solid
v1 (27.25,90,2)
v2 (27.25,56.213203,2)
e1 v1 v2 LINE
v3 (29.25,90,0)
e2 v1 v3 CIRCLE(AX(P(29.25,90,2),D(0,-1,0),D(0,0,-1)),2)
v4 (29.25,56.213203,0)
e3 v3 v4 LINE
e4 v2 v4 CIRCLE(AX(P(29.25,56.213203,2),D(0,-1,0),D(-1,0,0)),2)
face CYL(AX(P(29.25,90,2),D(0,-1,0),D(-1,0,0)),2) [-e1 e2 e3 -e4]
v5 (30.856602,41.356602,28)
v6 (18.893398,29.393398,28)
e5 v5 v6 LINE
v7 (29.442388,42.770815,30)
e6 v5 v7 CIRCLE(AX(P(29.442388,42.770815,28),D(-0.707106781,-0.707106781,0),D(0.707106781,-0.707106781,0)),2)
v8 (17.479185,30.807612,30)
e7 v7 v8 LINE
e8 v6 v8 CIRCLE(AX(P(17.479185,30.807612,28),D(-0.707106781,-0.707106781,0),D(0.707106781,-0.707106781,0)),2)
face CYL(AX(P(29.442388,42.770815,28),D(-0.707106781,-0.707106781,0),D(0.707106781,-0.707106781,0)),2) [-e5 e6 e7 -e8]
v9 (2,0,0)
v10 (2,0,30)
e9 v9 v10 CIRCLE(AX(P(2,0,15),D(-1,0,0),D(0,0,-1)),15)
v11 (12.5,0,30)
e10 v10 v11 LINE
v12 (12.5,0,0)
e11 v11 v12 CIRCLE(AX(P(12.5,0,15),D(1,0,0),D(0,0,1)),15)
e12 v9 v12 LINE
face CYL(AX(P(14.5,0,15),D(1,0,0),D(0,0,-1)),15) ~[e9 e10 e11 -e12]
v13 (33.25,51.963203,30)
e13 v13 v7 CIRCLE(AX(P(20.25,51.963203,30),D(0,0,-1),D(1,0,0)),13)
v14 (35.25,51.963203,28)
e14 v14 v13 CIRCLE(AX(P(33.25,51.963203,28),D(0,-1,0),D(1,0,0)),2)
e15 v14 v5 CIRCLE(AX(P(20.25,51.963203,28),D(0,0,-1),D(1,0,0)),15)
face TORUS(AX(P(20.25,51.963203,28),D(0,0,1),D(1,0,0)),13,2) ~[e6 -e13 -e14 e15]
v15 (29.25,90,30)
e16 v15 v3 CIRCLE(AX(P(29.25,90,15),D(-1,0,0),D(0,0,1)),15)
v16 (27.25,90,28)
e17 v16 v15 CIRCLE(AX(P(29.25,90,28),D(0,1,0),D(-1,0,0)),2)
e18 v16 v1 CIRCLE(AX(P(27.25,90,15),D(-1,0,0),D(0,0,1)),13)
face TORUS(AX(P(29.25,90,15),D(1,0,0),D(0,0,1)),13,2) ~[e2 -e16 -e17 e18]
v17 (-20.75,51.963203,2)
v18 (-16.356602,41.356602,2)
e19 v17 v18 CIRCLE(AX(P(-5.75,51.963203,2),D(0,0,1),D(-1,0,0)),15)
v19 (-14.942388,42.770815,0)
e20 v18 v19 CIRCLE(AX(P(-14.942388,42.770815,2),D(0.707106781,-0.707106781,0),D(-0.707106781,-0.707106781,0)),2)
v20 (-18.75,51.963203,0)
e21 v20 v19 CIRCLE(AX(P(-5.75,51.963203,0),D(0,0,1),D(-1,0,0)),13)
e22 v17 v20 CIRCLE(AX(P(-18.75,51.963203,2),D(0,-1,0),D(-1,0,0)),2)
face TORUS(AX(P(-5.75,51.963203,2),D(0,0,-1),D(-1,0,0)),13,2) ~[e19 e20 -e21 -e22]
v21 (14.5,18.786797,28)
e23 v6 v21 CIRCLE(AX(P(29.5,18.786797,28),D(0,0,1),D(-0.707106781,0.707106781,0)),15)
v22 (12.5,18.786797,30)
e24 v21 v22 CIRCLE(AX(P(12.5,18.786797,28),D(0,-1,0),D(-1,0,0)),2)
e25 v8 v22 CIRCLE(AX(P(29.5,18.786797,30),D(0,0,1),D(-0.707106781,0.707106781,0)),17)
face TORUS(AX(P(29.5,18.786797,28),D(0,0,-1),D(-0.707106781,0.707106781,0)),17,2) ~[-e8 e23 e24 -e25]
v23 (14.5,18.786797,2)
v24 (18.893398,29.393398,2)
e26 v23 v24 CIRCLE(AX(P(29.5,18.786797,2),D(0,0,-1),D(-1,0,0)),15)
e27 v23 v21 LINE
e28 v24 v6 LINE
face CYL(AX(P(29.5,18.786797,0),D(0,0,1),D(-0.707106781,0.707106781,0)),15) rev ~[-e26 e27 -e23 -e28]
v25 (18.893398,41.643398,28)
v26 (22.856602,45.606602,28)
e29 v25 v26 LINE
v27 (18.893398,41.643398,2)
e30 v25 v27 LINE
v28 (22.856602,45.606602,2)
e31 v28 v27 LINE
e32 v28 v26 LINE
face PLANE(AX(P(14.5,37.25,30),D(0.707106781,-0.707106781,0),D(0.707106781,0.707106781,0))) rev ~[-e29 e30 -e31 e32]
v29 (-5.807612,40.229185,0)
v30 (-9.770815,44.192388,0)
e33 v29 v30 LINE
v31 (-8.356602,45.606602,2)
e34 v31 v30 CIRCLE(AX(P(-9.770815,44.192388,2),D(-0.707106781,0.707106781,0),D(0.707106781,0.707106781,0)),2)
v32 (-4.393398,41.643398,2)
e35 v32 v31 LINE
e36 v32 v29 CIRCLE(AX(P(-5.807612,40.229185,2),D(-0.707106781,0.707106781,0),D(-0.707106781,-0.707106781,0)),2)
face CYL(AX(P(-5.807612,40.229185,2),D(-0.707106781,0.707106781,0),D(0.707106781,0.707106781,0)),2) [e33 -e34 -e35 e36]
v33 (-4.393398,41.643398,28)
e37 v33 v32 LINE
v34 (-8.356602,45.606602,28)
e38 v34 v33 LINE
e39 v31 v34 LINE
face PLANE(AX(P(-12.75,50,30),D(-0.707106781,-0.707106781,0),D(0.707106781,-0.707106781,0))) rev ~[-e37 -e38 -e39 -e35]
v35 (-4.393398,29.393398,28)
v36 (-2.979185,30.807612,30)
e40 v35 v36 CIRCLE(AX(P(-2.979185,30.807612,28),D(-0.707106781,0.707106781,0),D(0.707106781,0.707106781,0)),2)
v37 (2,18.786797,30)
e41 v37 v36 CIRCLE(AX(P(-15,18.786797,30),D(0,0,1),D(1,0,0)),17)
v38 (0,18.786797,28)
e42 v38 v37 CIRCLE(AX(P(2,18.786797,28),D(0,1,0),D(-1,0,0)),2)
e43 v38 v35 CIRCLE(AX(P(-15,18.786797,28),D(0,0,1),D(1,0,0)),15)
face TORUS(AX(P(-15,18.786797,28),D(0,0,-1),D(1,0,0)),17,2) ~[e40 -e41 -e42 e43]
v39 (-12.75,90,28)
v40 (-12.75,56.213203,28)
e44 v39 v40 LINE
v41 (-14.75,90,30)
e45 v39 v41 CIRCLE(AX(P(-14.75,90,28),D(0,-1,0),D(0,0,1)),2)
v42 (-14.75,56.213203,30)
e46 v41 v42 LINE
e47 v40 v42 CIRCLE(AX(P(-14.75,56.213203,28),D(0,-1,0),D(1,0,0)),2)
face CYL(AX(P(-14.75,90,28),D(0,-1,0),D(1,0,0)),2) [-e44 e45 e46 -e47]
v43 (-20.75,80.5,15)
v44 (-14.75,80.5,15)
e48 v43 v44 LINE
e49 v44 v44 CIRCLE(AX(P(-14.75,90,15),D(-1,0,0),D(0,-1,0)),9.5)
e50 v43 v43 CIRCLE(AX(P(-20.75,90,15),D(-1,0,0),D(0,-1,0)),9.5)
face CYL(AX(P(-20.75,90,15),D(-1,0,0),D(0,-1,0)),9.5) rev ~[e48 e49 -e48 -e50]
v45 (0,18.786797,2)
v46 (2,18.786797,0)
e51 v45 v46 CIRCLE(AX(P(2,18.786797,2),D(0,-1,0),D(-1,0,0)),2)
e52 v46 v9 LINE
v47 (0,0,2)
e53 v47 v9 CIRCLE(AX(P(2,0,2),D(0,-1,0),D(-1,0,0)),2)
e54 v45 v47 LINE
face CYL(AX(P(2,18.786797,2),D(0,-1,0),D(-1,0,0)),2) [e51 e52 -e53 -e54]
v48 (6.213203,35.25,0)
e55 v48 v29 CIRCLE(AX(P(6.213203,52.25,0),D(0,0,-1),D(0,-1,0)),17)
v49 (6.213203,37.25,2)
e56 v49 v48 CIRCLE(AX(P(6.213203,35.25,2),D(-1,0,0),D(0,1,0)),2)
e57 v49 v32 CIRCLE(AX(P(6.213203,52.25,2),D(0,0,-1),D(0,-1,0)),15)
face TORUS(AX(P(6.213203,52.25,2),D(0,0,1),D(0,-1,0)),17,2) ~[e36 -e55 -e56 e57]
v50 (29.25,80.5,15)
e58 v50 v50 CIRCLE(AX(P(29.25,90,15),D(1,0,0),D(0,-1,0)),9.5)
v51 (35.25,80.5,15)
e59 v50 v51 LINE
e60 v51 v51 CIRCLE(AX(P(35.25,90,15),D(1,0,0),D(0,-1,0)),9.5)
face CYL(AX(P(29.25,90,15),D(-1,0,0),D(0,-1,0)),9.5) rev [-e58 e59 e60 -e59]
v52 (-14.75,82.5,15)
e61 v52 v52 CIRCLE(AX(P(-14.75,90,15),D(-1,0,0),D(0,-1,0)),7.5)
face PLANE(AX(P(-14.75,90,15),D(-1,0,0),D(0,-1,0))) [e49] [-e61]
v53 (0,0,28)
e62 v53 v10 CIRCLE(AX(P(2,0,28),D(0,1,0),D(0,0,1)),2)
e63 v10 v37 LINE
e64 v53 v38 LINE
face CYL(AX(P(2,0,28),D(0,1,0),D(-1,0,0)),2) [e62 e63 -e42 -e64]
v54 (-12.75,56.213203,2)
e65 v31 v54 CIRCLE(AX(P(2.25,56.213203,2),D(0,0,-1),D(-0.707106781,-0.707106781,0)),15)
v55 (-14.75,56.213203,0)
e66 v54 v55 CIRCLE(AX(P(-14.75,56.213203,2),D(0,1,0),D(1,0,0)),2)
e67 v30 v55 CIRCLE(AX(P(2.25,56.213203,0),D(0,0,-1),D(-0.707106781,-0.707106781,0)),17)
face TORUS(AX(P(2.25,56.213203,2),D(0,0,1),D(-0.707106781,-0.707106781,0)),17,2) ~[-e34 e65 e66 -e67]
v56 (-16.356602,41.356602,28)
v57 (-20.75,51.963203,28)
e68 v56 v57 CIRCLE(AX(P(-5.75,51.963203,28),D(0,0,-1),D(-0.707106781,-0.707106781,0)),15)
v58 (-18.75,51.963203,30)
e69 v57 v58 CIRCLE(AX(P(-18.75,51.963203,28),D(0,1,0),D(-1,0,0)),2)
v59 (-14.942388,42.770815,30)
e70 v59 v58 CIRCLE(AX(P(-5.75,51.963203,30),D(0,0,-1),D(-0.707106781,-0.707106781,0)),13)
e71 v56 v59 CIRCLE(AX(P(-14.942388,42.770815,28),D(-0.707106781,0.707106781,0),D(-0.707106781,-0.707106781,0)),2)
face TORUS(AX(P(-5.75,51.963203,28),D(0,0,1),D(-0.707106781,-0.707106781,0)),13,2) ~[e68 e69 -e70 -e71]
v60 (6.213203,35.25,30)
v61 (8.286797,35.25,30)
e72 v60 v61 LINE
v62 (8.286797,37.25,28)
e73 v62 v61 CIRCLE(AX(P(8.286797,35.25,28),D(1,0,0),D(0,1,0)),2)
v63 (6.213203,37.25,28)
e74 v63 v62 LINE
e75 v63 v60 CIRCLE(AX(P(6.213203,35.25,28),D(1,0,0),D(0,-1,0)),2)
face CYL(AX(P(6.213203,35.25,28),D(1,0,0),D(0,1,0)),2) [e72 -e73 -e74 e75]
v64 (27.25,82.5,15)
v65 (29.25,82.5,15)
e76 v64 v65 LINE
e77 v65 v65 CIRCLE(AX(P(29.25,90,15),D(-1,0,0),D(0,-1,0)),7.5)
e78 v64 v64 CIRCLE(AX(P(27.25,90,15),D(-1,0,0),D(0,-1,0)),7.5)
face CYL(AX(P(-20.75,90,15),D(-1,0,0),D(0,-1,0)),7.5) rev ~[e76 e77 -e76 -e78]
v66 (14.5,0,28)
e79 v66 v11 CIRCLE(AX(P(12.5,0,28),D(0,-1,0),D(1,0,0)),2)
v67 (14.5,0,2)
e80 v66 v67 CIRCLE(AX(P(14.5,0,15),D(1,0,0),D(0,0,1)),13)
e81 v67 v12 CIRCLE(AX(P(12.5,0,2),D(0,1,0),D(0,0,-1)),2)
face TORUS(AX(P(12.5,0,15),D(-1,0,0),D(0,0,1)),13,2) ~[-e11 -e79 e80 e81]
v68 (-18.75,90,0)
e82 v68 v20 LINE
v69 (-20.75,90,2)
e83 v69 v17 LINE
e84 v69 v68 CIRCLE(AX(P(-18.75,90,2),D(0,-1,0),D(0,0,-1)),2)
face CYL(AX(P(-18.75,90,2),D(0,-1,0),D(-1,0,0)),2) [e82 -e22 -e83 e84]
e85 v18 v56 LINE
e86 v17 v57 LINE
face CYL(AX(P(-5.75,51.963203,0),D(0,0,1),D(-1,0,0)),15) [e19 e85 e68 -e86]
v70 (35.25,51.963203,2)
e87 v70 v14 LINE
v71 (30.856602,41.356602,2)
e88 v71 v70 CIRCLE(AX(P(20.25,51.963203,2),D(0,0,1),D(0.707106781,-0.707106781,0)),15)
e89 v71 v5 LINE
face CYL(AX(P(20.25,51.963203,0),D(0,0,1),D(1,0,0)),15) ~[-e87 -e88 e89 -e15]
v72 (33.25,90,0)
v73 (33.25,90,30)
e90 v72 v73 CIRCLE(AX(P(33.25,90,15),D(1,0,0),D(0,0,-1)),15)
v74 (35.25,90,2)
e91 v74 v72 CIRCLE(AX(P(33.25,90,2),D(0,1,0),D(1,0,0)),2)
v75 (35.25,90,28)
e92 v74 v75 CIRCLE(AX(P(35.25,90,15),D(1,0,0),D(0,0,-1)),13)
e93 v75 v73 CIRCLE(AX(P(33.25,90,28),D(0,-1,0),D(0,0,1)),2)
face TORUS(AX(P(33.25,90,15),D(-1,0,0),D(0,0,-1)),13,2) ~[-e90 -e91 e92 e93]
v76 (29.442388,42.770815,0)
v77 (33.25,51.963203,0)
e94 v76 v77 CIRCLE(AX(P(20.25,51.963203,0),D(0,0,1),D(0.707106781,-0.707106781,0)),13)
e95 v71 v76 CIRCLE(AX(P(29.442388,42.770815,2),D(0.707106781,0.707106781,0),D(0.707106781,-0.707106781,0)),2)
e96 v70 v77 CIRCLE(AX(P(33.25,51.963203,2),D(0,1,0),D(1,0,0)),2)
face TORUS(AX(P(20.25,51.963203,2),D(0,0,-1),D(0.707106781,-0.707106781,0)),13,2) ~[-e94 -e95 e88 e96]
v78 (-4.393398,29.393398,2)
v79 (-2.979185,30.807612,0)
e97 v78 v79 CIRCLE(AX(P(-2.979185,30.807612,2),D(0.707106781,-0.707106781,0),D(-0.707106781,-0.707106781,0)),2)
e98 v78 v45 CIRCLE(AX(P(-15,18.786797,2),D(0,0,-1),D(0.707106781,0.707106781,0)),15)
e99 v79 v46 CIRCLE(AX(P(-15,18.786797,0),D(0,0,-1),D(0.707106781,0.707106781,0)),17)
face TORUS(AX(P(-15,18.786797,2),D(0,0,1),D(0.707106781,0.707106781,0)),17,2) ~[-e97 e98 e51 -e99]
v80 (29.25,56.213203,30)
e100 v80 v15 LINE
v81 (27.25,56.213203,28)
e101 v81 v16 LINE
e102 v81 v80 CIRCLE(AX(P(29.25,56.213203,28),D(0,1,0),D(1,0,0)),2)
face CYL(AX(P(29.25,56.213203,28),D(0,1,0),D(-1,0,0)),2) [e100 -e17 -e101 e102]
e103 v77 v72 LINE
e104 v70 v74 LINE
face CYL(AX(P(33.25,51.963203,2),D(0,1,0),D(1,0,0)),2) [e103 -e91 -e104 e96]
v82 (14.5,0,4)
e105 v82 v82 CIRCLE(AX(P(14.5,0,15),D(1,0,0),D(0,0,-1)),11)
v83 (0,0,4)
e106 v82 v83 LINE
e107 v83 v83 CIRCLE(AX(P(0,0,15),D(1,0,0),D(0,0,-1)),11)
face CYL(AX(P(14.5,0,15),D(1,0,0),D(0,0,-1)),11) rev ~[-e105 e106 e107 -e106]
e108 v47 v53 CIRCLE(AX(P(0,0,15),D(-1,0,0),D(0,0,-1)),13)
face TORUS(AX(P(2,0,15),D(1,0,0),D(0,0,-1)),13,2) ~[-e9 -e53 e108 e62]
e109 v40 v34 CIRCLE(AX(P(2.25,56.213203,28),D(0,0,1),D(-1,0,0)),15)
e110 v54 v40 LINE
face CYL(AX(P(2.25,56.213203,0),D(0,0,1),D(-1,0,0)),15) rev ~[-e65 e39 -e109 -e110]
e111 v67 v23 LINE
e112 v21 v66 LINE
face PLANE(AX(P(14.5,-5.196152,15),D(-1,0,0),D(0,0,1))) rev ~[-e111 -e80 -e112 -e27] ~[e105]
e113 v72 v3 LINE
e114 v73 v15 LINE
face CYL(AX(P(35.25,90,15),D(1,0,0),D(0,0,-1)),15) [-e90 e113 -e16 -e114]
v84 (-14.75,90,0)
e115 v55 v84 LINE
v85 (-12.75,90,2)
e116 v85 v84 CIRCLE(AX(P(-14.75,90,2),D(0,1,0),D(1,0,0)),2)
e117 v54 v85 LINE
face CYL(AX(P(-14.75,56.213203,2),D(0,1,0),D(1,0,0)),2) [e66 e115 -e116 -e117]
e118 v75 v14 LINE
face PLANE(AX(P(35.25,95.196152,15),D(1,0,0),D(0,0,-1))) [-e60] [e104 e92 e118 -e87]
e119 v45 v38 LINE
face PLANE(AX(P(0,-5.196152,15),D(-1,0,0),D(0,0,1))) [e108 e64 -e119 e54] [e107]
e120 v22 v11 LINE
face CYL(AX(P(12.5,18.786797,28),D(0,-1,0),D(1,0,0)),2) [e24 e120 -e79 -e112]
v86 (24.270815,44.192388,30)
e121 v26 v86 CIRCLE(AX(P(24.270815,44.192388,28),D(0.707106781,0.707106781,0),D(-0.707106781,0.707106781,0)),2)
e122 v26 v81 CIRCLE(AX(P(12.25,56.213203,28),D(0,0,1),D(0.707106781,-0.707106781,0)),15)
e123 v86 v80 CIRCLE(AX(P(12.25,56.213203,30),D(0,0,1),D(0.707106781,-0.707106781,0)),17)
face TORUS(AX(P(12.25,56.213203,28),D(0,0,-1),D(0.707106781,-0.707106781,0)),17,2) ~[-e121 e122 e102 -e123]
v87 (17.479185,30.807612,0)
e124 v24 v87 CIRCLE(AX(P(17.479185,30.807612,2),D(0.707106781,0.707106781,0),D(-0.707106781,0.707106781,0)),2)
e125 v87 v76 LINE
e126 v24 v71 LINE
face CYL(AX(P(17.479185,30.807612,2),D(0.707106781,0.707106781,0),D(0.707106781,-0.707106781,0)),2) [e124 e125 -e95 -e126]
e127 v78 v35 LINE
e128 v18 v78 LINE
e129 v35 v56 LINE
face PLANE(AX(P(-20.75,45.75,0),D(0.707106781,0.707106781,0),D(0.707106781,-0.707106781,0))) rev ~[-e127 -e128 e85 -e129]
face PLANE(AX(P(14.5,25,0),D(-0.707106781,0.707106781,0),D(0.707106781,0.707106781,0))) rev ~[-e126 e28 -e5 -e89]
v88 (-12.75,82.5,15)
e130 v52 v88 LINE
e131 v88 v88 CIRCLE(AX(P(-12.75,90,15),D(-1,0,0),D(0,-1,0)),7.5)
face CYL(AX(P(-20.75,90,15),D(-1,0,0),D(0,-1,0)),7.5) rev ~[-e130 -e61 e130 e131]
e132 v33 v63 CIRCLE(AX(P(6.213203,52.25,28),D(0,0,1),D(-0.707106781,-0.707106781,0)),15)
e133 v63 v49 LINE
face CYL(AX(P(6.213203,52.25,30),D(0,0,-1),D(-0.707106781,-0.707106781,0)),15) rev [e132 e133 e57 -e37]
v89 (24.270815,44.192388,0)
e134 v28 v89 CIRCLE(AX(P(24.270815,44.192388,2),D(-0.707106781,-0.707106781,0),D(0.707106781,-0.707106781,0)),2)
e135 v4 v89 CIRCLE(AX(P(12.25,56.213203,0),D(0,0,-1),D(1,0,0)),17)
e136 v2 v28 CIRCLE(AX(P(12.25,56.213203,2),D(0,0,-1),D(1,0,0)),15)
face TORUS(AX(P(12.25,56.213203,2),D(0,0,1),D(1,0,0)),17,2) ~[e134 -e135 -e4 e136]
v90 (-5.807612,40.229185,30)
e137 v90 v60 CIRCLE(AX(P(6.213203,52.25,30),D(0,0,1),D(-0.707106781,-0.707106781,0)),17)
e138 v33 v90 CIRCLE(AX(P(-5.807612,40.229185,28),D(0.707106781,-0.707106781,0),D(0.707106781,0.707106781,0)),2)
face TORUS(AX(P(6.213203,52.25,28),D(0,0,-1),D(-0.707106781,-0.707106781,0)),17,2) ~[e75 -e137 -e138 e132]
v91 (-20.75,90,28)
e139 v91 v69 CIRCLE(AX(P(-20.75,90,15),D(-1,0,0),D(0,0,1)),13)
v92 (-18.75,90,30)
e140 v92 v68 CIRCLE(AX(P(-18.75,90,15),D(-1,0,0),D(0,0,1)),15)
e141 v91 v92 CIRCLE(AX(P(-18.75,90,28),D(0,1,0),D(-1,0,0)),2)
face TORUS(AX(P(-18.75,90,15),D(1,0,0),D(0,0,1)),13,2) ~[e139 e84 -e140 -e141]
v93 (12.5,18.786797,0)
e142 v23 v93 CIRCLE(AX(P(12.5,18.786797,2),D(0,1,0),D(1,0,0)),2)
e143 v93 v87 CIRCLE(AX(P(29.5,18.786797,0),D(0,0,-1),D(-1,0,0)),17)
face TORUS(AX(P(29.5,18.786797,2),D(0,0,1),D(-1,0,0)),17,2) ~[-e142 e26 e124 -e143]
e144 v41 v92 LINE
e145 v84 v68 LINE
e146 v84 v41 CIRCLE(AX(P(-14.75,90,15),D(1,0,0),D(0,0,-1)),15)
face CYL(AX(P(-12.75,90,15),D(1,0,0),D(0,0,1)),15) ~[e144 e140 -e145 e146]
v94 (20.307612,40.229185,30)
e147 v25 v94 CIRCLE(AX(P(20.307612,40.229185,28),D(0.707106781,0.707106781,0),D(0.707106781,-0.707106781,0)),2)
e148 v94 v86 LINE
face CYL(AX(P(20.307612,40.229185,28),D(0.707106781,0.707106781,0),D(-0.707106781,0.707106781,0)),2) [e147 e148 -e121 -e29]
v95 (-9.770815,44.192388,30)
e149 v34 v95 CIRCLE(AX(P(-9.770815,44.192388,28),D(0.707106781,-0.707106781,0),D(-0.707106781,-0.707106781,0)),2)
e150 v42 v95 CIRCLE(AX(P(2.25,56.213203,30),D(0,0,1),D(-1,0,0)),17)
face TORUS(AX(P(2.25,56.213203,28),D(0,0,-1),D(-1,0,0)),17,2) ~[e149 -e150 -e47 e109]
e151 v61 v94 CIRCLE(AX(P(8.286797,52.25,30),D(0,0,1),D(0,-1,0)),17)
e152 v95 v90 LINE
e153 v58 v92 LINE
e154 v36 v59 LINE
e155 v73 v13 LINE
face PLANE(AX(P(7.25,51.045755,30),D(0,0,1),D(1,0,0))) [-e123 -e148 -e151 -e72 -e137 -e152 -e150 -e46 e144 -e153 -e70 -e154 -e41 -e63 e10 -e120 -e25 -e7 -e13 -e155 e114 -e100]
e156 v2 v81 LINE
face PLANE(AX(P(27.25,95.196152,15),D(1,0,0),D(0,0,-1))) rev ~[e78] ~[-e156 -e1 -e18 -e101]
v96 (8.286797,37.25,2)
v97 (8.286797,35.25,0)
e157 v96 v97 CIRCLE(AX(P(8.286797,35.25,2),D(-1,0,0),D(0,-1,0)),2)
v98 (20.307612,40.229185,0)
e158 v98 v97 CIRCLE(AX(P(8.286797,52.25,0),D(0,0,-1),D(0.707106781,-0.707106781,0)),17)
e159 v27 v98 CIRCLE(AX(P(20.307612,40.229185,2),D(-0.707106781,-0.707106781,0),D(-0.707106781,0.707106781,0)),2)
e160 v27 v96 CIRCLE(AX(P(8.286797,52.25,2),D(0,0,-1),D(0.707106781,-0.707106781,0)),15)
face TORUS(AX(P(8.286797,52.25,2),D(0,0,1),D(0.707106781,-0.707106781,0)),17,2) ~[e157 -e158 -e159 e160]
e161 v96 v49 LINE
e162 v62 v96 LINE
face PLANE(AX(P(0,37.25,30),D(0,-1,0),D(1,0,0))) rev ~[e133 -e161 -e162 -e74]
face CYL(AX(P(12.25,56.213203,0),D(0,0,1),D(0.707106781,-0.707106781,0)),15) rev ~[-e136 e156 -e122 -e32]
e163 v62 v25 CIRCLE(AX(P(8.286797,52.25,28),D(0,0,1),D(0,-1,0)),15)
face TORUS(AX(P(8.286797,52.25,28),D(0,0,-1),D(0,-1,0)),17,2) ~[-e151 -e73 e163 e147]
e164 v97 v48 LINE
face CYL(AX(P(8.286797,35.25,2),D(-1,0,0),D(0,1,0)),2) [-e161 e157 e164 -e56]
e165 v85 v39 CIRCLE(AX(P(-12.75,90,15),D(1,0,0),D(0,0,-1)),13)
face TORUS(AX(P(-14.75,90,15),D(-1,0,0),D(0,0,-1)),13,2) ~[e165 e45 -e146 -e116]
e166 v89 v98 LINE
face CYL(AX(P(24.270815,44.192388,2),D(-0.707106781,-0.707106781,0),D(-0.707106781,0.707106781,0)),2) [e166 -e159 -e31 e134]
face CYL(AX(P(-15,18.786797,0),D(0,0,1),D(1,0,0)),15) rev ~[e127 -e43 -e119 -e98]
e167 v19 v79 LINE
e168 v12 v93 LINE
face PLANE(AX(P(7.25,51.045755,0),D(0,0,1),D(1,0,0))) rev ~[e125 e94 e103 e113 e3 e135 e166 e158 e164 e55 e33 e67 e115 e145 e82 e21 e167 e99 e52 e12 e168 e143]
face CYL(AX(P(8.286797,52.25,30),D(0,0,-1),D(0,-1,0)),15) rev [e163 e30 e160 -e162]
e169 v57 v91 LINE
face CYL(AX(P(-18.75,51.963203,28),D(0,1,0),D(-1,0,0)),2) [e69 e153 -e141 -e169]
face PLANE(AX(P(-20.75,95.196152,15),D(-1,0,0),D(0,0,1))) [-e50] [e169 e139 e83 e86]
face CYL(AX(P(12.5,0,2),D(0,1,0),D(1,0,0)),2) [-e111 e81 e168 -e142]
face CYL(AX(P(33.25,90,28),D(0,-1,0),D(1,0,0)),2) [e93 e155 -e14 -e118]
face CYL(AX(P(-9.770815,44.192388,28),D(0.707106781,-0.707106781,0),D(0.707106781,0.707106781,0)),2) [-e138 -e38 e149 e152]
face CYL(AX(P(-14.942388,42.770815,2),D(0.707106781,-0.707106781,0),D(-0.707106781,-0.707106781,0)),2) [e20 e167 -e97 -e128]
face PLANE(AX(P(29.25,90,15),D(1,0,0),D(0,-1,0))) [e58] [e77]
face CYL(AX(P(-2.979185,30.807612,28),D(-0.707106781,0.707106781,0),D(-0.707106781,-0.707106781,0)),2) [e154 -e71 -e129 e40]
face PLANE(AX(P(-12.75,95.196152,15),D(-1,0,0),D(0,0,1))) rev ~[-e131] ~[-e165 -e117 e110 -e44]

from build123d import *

# Parameters (mm, degrees)
EXTRUDE_1_DEPTH     = 30
CUT_EXTRUDE_1_DEPTH = 102.205545797
EXTRUDE_2_DEPTH     = 14.5
SKETCH_4_R          = 11
CUT_EXTRUDE_2_DEPTH = 20
EXTRUDE_3_DEPTH     = 8
EXTRUDE_START       = -8
EXTRUDE_4_DEPTH     = 8
SKETCH_9_R          = 7.5
CUT_EXTRUDE_5_DEPTH = 62
SKETCH_10_R         = 9.5
CUT_EXTRUDE_6_DEPTH = 6
CUT_EXTRUDE_START   = -6
SKETCH_11_R         = 9.5
CUT_EXTRUDE_7_DEPTH = 6
FILLET_1_R          = 15
FILLET_2_R          = 2


with BuildPart() as part:
    # 草图1 → 凸台-拉伸1 (new body)
    with BuildSketch(Plane.XY):
        Polygon((0, 0), (14.5, 0), (14.5, 25), (35.25, 45.75), (35.25, 90), (27.25, 90), (27.25, 50), (-12.75, 50), (-12.75, 90), (-20.75, 90), (-20.75, 45.75), (0, 25), align=None)
    extrude(amount=EXTRUDE_1_DEPTH)

    # 草图2 → 切除-拉伸1 (cut, through all)
    with BuildSketch(Plane.XY.offset(30)):
        Polygon((-12.75, 50), (0, 37.25), (14.5, 37.25), (27.25, 50), align=None)
    extrude(amount=-CUT_EXTRUDE_1_DEPTH, mode=Mode.SUBTRACT)

    # 草图3 → 凸台-拉伸2 (add)
    with BuildSketch(Plane(origin=(14.5, 0, 0), x_dir=(0, 0, -1), z_dir=(1, 0, 0))):
        with BuildLine():
            Line((-30, 0), (0, 0))
            ThreePointArc((0, 0), (-15, -15), (-30, 0))
        make_face()
    extrude(amount=-EXTRUDE_2_DEPTH)

    # 草图4 → 切除-拉伸2 (cut)
    with BuildSketch(Plane(origin=(14.5, 0, 0), x_dir=(0, 0, -1), z_dir=(1, 0, 0))):
        with Locations((-15, 0)):
            Circle(SKETCH_4_R)
    extrude(amount=-CUT_EXTRUDE_2_DEPTH, mode=Mode.SUBTRACT)

    # 草图7 → 凸台-拉伸3 (add)
    with BuildSketch(Plane(origin=(35.25, 0, 0), x_dir=(0, 0, -1), z_dir=(1, 0, 0))):
        with BuildLine():
            Line((-30, 90), (0, 90))
            ThreePointArc((0, 90), (-15, 105), (-30, 90))
        make_face()
    extrude(amount=-EXTRUDE_3_DEPTH)

    # 草图8 → 凸台-拉伸4 (add)
    with BuildSketch(Plane.ZY.offset(20.75).offset(EXTRUDE_START)):
        with BuildLine():
            Line((0, 90), (30, 90))
            ThreePointArc((30, 90), (15, 105), (0, 90))
        make_face()
    extrude(amount=EXTRUDE_4_DEPTH)

    # 草图9 → 切除-拉伸5 (cut)
    with BuildSketch(Plane.ZY.offset(20.75)):
        with Locations(Location((15, 90, 0), (0, 0, 270))):
            Circle(SKETCH_9_R)
    extrude(amount=-CUT_EXTRUDE_5_DEPTH, mode=Mode.SUBTRACT)

    # 草图10 → 切除-拉伸6 (cut)
    with BuildSketch(Plane.ZY.offset(20.75)):
        with Locations(Location((15, 90, 0), (0, 0, 270))):
            Circle(SKETCH_10_R)
    extrude(amount=-CUT_EXTRUDE_6_DEPTH, mode=Mode.SUBTRACT)

    # 草图11 → 切除-拉伸7 (cut)
    with BuildSketch(Plane(origin=(35.25, 0, 0), x_dir=(0, 0, -1), z_dir=(1, 0, 0)).offset(CUT_EXTRUDE_START)):
        with Locations(Location((-15, 90, 0), (0, 0, 270))):
            Circle(SKETCH_11_R)
    extrude(amount=CUT_EXTRUDE_7_DEPTH, mode=Mode.SUBTRACT)

    # 圆角1
    fillet_1_edges = [part.edges().sort_by_distance(p)[0] for p in [
        (0, 25, 15),
        (-20.75, 45.75, 15),
        (-12.75, 50, 15),
        (27.25, 50, 15),
        (35.25, 45.75, 15),
        (14.5, 25, 15),
        (14.5, 37.25, 15),
        (0, 37.25, 15),
    ]]
    fillet(fillet_1_edges, radius=FILLET_1_R)

    # 圆角2
    fillet_2_edges = [part.edges().sort_by_distance(p)[0] for p in [
        (-12.75, 73.106601718, 0),
        (-12.75, 73.106601718, 30),
        (-6.375, 43.625, 30),
        (-6.375, 43.625, 0),
        (7.25, 37.25, 30),
        (7.25, 37.25, 0),
        (20.875, 43.625, 30),
        (20.875, 43.625, 0),
        (0, 9.393398282, 0),
        (0, 9.393398282, 30),
        (-10.375, 35.375, 0),
        (-10.375, 35.375, 30),
        (35.25, 70.981601718, 0),
        (24.875, 35.375, 0),
        (34.108192988, 46.22295195, 0),
        (-19.608192988, 46.22295195, 0),
        (24.875, 35.375, 30),
        (35.25, 70.981601718, 30),
        (34.108192988, 46.22295195, 30),
        (-19.608192988, 46.22295195, 30),
        (-11.608192988, 50.47295195, 0),
        (-11.608192988, 50.47295195, 30),
        (-20.75, 70.981601718, 0),
        (0.47295195, 38.391807012, 30),
        (0.47295195, 38.391807012, 0),
        (14.02704805, 38.391807012, 30),
        (14.02704805, 38.391807012, 0),
        (26.108192988, 50.47295195, 0),
        (26.108192988, 50.47295195, 30),
        (-1.141807012, 24.52704805, 0),
        (-1.141807012, 24.52704805, 30),
        (14.5, 9.393398282, 30),
        (15.641807012, 24.52704805, 0),
        (15.641807012, 24.52704805, 30),
        (27.25, 73.106601718, 0),
        (14.5, 9.393398282, 0),
        (27.25, 73.106601718, 30),
        (-20.75, 70.981601718, 30),
        (14.5, -15, 15),
        (0, -15, 15),
        (35.25, 105, 15),
        (27.25, 105, 15),
        (-20.75, 105, 15),
        (-12.75, 105, 15),
    ]]
    fillet(fillet_2_edges, radius=FILLET_2_R)


solid = part.part
